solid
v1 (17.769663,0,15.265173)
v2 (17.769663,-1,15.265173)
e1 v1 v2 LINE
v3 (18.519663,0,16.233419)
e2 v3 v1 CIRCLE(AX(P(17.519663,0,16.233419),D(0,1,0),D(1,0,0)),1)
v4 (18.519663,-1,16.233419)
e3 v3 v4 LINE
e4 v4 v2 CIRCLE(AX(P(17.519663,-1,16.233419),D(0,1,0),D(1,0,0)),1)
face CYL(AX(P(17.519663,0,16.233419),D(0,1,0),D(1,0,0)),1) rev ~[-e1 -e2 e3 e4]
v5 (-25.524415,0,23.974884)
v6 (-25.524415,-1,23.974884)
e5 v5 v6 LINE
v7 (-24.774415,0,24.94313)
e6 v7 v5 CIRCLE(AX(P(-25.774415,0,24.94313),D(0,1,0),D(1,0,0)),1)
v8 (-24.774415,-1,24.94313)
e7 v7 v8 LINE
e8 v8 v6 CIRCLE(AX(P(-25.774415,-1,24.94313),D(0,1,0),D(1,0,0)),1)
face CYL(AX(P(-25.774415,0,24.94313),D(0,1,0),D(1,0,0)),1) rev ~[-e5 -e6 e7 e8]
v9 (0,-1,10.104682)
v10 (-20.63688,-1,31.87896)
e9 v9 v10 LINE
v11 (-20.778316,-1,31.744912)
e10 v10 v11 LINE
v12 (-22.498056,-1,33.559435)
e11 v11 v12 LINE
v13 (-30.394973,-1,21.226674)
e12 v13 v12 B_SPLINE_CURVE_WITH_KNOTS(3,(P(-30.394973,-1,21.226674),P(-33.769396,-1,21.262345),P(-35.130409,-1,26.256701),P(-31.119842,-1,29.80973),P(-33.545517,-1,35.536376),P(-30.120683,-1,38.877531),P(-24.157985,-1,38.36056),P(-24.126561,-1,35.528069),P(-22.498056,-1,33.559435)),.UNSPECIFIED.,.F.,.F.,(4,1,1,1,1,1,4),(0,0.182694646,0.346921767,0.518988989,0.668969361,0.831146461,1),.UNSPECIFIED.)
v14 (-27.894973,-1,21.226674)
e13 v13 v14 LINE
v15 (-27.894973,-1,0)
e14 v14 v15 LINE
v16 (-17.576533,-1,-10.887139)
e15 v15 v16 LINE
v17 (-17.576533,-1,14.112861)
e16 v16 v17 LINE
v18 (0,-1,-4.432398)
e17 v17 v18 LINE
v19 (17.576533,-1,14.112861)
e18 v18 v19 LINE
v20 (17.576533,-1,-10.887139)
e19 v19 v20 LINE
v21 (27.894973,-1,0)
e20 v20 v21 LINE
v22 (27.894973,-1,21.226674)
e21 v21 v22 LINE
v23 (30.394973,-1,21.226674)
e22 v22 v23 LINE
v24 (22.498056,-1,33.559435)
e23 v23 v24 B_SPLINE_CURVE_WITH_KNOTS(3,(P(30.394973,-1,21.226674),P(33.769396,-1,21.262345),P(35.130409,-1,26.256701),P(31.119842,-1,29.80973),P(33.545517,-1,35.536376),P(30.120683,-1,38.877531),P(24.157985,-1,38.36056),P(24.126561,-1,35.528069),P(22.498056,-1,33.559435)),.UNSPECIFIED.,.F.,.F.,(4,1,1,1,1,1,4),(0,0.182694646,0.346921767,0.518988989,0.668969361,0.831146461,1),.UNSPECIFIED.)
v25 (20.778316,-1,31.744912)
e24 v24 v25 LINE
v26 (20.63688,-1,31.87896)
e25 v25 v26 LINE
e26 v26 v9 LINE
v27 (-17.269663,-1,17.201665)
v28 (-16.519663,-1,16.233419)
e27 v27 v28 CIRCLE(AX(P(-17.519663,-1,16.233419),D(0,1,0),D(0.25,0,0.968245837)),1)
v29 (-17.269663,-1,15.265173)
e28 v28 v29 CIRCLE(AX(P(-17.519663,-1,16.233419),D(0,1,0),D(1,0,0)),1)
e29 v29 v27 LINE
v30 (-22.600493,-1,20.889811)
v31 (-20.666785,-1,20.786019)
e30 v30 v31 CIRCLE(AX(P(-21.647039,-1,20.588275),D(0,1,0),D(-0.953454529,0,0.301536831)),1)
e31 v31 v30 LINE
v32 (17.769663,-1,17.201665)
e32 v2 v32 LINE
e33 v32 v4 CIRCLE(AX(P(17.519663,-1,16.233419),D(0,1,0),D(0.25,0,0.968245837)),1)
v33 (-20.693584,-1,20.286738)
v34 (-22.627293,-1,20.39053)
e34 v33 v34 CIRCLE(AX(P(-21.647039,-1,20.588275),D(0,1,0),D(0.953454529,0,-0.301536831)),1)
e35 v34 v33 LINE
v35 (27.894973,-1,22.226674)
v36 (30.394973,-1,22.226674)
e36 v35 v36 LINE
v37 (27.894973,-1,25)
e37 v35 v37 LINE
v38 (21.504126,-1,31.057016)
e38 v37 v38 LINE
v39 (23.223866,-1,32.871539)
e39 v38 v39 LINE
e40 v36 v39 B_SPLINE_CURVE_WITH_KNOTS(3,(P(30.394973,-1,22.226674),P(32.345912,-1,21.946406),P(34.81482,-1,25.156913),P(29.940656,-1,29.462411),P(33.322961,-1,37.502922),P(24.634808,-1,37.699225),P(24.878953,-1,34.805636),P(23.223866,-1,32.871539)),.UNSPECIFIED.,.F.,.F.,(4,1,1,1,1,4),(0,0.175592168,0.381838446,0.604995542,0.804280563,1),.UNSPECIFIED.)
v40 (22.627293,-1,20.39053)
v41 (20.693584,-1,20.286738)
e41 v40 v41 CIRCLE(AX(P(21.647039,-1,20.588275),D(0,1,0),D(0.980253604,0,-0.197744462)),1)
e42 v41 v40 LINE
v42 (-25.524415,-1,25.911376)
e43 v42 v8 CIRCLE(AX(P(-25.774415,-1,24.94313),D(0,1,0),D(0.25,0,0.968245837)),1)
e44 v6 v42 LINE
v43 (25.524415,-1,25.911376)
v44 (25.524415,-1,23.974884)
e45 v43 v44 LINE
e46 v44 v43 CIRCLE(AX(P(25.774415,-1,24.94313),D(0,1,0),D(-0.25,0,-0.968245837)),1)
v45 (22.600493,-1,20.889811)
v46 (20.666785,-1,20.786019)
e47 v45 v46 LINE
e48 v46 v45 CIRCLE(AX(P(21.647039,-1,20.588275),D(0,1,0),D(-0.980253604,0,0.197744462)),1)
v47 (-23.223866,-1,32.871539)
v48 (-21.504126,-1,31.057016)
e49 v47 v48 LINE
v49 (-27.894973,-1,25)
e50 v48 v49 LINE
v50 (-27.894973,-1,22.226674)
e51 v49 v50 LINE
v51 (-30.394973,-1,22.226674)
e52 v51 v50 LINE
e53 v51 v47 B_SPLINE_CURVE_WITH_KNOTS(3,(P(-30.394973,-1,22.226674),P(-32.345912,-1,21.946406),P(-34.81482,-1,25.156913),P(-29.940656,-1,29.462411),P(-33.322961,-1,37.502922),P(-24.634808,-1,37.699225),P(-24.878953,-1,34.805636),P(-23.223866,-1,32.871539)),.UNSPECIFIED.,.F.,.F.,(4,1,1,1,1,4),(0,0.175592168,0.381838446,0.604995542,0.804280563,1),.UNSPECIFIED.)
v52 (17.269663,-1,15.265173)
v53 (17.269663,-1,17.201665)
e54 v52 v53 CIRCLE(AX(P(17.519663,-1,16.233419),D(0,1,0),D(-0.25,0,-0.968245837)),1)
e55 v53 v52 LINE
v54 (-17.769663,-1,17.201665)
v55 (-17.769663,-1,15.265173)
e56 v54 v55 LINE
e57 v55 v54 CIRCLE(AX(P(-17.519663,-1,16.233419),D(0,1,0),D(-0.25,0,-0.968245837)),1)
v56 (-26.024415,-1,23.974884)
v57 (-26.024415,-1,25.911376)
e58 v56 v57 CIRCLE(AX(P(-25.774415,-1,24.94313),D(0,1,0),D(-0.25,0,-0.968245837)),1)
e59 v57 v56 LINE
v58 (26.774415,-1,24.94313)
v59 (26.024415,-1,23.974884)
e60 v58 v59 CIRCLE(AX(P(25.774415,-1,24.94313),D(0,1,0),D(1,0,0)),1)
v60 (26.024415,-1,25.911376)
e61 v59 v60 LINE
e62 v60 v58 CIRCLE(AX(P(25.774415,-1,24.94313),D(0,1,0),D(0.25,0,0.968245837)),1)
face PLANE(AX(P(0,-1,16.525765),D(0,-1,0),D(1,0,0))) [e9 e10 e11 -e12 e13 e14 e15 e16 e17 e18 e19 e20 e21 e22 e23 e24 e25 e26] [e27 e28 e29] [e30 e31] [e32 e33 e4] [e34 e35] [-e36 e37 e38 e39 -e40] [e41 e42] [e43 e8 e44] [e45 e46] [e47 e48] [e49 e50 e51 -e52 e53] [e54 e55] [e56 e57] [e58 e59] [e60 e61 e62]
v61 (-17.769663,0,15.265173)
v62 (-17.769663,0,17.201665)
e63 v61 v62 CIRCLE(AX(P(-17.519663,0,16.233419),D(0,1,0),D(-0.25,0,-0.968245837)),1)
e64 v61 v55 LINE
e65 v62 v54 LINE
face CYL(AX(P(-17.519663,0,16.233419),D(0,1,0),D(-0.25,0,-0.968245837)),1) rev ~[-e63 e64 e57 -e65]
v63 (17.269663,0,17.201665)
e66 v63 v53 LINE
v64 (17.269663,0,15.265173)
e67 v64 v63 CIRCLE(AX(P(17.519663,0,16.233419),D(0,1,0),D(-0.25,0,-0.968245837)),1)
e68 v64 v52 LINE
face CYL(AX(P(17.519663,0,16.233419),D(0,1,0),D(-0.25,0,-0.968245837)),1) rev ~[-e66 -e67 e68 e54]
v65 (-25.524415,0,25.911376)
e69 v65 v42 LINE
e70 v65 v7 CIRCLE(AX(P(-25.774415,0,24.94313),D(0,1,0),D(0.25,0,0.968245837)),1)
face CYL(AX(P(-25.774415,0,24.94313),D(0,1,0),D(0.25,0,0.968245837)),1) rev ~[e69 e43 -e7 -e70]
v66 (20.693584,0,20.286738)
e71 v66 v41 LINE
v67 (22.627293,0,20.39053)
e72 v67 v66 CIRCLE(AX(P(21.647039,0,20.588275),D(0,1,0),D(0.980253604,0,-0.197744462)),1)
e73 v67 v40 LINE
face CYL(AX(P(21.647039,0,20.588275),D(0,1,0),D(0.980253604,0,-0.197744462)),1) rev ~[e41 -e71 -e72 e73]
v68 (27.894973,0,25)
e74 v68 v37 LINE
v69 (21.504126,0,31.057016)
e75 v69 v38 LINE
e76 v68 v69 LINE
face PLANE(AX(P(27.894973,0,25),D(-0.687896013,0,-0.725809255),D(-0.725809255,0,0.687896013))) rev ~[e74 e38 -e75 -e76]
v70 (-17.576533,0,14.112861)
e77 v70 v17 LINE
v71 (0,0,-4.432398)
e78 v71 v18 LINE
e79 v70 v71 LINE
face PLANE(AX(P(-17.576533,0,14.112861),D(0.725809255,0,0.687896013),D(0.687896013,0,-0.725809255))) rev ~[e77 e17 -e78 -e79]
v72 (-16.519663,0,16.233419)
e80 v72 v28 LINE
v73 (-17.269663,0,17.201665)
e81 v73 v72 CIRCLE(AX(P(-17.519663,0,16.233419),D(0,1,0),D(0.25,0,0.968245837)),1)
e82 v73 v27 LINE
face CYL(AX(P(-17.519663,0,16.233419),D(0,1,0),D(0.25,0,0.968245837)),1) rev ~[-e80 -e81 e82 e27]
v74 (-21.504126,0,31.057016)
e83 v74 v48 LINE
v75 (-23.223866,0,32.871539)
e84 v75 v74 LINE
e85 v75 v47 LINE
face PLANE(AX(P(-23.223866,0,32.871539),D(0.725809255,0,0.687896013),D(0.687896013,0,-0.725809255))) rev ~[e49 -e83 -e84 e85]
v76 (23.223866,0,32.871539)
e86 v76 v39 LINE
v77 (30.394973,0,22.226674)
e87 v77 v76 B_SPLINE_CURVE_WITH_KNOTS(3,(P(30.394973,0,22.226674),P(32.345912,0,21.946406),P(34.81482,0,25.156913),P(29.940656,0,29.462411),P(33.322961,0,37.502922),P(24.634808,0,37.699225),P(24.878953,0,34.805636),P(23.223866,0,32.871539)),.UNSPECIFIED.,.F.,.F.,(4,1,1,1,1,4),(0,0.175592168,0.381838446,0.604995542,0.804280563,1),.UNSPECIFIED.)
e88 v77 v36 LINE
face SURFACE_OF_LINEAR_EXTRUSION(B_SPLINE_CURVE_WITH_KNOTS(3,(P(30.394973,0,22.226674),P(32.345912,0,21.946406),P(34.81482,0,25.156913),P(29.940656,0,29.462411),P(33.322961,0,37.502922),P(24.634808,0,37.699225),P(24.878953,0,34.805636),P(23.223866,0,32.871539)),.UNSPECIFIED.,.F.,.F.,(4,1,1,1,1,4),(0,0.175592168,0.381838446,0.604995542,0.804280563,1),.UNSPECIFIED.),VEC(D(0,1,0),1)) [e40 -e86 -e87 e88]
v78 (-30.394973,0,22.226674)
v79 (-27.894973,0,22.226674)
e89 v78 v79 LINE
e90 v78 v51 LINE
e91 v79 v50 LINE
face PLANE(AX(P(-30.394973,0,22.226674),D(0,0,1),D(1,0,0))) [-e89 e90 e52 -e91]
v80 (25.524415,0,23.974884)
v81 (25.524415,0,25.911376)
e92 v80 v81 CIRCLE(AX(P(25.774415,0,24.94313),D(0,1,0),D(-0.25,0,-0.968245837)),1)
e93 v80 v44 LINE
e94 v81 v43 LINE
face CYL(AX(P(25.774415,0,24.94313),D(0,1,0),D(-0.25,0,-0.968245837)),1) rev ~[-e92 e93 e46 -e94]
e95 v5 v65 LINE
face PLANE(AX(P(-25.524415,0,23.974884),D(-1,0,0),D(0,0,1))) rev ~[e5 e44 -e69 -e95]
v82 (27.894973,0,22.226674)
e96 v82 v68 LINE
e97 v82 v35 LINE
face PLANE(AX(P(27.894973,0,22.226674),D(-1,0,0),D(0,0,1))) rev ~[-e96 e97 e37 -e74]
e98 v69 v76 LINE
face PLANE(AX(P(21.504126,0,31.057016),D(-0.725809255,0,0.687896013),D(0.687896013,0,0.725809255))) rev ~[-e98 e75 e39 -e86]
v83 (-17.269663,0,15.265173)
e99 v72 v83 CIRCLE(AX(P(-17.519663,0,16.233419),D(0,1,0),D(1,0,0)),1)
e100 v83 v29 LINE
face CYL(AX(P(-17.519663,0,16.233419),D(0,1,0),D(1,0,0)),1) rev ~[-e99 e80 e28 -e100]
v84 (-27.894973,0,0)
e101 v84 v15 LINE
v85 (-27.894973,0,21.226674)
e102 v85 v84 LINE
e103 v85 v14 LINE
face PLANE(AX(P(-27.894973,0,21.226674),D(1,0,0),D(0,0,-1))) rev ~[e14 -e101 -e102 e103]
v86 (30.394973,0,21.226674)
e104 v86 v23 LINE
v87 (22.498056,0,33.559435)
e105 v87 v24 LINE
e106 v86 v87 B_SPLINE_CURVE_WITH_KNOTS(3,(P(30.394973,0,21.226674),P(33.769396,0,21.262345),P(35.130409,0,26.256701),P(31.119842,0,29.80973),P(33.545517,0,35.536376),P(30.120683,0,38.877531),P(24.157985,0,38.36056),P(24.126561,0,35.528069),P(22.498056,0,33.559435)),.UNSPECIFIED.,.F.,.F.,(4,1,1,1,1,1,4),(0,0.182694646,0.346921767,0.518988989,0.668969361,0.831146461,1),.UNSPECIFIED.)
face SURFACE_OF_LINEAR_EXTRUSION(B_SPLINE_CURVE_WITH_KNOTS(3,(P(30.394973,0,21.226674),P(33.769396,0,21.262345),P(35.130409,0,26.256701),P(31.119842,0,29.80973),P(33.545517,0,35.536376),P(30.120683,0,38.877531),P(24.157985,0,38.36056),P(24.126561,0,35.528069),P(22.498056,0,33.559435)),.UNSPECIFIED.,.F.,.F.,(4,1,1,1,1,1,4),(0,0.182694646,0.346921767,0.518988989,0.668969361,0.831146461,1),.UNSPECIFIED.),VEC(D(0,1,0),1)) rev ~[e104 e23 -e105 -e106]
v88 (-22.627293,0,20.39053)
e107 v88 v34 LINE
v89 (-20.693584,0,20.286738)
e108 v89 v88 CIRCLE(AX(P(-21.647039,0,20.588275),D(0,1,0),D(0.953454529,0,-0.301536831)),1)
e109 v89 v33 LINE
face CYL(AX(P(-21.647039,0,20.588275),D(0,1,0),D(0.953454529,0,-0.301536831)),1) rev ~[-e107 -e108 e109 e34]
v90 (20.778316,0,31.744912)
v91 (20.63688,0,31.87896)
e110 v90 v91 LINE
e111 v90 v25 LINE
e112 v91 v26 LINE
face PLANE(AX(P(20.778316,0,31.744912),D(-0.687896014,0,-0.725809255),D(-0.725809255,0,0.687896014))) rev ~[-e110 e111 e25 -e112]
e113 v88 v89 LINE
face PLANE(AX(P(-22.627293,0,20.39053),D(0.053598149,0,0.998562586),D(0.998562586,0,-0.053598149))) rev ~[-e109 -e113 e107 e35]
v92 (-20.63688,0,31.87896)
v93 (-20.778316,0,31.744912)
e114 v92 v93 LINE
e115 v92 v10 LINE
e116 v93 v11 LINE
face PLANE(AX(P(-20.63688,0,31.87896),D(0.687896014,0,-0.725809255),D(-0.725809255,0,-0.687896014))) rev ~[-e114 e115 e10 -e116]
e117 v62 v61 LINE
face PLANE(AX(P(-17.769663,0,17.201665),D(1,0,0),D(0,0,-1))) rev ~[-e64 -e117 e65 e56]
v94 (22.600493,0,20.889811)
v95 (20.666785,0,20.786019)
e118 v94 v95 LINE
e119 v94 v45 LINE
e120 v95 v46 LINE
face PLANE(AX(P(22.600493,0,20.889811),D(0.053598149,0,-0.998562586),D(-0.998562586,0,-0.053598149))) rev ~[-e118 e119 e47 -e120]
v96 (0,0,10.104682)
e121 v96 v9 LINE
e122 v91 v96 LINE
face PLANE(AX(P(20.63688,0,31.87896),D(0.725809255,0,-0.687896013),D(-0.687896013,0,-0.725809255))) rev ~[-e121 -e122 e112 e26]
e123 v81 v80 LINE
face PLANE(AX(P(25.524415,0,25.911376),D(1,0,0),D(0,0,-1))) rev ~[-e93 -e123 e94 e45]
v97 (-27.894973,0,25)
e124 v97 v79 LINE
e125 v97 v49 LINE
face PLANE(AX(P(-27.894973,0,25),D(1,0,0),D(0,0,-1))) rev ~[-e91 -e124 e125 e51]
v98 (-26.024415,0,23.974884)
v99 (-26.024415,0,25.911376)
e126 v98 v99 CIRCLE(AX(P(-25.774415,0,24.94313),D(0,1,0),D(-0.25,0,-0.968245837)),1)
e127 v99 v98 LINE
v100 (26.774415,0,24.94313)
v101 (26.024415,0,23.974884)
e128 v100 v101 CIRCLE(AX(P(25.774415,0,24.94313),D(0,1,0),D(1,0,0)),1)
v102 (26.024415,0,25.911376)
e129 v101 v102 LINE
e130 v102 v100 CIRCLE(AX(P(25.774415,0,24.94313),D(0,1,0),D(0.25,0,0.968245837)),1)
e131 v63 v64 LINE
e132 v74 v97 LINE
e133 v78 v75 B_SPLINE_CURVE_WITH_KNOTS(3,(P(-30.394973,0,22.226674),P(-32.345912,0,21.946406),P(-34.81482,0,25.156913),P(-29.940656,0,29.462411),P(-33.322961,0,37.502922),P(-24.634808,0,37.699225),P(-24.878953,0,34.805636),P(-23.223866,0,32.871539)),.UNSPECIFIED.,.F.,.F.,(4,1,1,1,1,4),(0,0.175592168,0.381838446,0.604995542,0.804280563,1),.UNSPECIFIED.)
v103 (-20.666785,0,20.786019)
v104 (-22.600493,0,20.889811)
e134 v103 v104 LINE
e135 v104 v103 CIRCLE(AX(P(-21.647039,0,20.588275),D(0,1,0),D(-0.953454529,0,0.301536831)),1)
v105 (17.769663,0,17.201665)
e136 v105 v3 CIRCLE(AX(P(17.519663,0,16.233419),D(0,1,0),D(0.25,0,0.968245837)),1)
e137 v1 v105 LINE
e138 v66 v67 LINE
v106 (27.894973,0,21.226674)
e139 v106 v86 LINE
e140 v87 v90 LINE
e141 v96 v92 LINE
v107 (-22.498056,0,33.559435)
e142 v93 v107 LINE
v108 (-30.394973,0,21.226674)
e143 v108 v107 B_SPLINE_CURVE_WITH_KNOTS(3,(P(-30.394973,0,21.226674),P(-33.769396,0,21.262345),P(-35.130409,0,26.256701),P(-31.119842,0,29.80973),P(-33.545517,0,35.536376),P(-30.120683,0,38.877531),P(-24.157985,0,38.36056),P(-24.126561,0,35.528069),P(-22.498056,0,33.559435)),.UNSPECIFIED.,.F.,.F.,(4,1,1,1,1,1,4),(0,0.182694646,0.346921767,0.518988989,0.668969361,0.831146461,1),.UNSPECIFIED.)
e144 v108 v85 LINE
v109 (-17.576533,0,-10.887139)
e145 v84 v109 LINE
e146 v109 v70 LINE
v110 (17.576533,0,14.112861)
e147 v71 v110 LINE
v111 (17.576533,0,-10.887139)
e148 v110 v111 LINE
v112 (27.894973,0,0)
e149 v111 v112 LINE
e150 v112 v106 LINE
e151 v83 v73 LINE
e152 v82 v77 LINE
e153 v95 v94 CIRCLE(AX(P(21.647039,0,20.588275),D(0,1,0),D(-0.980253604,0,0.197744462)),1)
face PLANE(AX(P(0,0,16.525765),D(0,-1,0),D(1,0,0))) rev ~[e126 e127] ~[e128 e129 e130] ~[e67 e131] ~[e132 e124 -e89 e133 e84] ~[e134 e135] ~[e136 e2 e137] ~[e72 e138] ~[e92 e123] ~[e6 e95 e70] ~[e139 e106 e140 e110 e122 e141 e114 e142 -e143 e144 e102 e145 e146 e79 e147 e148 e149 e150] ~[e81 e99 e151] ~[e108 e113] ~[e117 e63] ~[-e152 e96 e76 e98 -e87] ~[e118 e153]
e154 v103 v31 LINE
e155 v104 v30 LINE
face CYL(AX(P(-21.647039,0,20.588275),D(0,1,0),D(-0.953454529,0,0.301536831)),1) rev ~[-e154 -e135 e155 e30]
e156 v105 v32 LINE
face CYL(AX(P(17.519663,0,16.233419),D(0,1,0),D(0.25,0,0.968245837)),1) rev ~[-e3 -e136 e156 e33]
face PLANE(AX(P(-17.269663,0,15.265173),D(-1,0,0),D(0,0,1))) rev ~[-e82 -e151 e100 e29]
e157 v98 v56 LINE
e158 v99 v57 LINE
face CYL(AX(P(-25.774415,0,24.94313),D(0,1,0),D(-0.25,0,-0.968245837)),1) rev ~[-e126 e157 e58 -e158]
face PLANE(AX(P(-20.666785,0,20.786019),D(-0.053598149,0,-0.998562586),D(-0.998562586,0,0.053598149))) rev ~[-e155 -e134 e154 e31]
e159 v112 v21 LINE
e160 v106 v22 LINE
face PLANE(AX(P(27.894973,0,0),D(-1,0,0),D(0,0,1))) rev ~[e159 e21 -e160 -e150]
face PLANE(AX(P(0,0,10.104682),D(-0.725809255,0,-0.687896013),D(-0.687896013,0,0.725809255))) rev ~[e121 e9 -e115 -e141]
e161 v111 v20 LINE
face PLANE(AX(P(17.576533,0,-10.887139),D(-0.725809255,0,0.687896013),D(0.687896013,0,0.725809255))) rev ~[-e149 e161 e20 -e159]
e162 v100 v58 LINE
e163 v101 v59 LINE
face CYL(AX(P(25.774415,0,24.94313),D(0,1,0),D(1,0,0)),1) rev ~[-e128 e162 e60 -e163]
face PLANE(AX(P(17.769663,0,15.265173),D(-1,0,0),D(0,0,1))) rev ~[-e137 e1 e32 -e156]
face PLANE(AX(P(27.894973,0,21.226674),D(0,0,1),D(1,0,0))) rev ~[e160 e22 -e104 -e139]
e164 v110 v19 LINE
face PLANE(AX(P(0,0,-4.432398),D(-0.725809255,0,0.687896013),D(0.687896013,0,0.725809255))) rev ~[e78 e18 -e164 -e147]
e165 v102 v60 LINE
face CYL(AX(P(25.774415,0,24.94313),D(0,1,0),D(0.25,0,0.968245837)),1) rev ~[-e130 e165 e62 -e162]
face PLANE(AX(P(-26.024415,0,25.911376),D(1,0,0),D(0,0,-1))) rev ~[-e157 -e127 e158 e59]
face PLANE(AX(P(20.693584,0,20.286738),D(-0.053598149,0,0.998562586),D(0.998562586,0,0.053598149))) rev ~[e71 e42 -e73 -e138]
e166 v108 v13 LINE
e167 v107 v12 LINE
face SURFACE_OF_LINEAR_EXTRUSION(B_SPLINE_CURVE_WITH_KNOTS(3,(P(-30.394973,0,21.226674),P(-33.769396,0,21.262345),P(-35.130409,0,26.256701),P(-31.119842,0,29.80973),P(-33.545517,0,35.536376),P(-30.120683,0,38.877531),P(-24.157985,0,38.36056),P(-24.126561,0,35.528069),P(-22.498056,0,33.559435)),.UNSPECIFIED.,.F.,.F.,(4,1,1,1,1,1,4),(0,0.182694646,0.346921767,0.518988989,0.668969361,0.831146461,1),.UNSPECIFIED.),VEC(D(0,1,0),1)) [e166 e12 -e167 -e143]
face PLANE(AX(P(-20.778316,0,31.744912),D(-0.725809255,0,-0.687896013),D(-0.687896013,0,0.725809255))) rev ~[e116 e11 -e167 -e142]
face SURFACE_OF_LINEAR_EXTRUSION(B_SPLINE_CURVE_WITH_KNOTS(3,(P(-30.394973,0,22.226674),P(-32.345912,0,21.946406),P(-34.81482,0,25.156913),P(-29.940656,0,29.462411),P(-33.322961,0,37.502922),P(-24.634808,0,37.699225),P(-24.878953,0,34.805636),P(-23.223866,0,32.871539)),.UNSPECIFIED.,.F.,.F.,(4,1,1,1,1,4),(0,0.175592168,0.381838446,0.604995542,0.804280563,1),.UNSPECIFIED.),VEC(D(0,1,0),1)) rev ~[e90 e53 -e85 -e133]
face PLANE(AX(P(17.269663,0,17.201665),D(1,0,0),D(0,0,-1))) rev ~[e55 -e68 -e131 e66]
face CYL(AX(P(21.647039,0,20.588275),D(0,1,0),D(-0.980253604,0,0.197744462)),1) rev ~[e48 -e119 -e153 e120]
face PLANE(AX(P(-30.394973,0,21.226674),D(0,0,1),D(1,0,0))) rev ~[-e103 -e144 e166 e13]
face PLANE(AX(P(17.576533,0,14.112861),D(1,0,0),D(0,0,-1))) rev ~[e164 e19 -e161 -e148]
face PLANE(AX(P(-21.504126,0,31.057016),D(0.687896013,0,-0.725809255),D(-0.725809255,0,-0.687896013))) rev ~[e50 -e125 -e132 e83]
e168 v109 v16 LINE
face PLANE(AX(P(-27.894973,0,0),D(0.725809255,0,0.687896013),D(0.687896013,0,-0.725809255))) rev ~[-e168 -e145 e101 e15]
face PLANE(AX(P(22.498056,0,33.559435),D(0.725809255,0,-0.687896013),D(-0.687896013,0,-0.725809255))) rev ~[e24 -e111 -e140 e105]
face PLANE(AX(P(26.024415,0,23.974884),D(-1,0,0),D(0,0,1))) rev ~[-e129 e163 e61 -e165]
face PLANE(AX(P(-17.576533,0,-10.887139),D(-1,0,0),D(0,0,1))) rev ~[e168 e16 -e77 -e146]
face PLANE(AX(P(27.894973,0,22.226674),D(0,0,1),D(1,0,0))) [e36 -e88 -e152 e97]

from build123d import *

# Parameters (mm, degrees)
F0_W     = 2.5
F0_H     = 1
F1_DEPTH = 1


with BuildPart() as f1:
    # F0 (on Front) → F1 (new body)
    with BuildSketch(Plane.XZ):
        Polygon((-21.5041256621, 31.0570161438), (-27.8949729542, 25), (-17.5765327521, 14.1128611749), (0, -4.4323984176), (17.5765327521, 14.1128611749), (27.8949729542, 25), (21.5041256621, 31.0570161438), (20.7783164071, 31.7449121572), (20.6368804041, 31.8789601347), (0, 10.1046824845), (-20.6368804041, 31.8789601347), (-20.7783164071, 31.7449121572), align=None)
        with BuildLine():
            ThreePointArc((-20.6667853668, 20.7860190692), (-20.6519878152, 20.6876385753), (-20.6470389706, 20.5882746076))
            ThreePointArc((-20.6470389706, 20.5882746076), (-20.6587438403, 20.4357205667), (-20.6935844414, 20.2867377762))
            ThreePointArc((-20.6935844414, 20.2867377762), (-21.7006371199, 19.5897120215), (-22.6272925745, 20.390530146))
            ThreePointArc((-22.6272925745, 20.390530146), (-22.6456015568, 20.6418727569), (-22.6004934999, 20.8898114391))
            ThreePointArc((-22.6004934999, 20.8898114391), (-21.5934408213, 21.5868371938), (-20.6667853668, 20.7860190692))
        make_face(mode=Mode.SUBTRACT)
        with BuildLine():
            ThreePointArc((-25.5244150514, 25.9113759742), (-24.9838456364, 25.5555025734), (-24.7744150515, 24.9431301377))
            ThreePointArc((-24.7744150515, 24.9431301377), (-24.9838456364, 24.330757702), (-25.5244150514, 23.9748843011))
            ThreePointArc((-25.5244150514, 23.9748843011), (-25.7744150514, 23.9431301377), (-26.0244150514, 23.9748843011))
            ThreePointArc((-26.0244150514, 23.9748843011), (-26.7744150515, 24.9431301377), (-26.0244150514, 25.9113759742))
            ThreePointArc((-26.0244150514, 25.9113759742), (-25.7744150514, 25.9431301377), (-25.5244150514, 25.9113759742))
        make_face(mode=Mode.SUBTRACT)
        with BuildLine():
            ThreePointArc((-17.2696628899, 17.2016649142), (-16.7290934748, 16.8457915133), (-16.5196628898, 16.2334190776))
            ThreePointArc((-16.5196628898, 16.2334190776), (-16.7290934748, 15.6210466419), (-17.2696628898, 15.265173241))
            ThreePointArc((-17.2696628898, 15.265173241), (-17.5196628899, 15.2334190776), (-17.7696628899, 15.2651732411))
            ThreePointArc((-17.7696628899, 15.2651732411), (-18.5196628898, 16.2334190776), (-17.7696628898, 17.2016649141))
            ThreePointArc((-17.7696628898, 17.2016649141), (-17.5196628898, 17.2334190776), (-17.2696628899, 17.2016649142))
        make_face(mode=Mode.SUBTRACT)
        with BuildLine():
            ThreePointArc((17.7696628898, 17.2016649141), (18.3102323049, 16.8457915133), (18.5196628898, 16.2334190776))
            ThreePointArc((18.5196628898, 16.2334190776), (18.3102323049, 15.6210466419), (17.7696628899, 15.2651732411))
            ThreePointArc((17.7696628899, 15.2651732411), (17.5196628899, 15.2334190776), (17.2696628898, 15.265173241))
            ThreePointArc((17.2696628898, 15.265173241), (16.5196628898, 16.2334190776), (17.2696628899, 17.2016649142))
            ThreePointArc((17.2696628899, 17.2016649142), (17.5196628898, 17.2334190776), (17.7696628898, 17.2016649141))
        make_face(mode=Mode.SUBTRACT)
        with BuildLine():
            ThreePointArc((22.6004934999, 20.8898114391), (22.635334101, 20.7408286485), (22.6470389706, 20.5882746076))
            ThreePointArc((22.6470389706, 20.5882746076), (22.6420901261, 20.48891064), (22.6272925745, 20.390530146))
            ThreePointArc((22.6272925745, 20.390530146), (21.7006371199, 19.5897120215), (20.6935844414, 20.2867377762))
            ThreePointArc((20.6935844414, 20.2867377762), (20.6484763845, 20.5346764583), (20.6667853668, 20.7860190692))
            ThreePointArc((20.6667853668, 20.7860190692), (21.5934408213, 21.5868371938), (22.6004934999, 20.8898114391))
        make_face(mode=Mode.SUBTRACT)
        with BuildLine():
            ThreePointArc((25.5244150514, 25.9113759742), (25.7744150514, 25.9431301377), (26.0244150514, 25.9113759742))
            ThreePointArc((26.0244150514, 25.9113759742), (26.5649844665, 25.5555025734), (26.7744150515, 24.9431301377))
            ThreePointArc((26.7744150515, 24.9431301377), (26.5649844665, 24.330757702), (26.0244150514, 23.9748843011))
            ThreePointArc((26.0244150514, 23.9748843011), (25.7744150514, 23.9431301377), (25.5244150514, 23.9748843011))
            ThreePointArc((25.5244150514, 23.9748843011), (24.7744150515, 24.9431301377), (25.5244150514, 25.9113759742))
        make_face(mode=Mode.SUBTRACT)
        with BuildLine():
            ThreePointArc((-20.6935844414, 20.2867377762), (-20.6587438403, 20.4357205667), (-20.6470389706, 20.5882746076))
            ThreePointArc((-20.6470389706, 20.5882746076), (-20.6519878152, 20.6876385753), (-20.6667853668, 20.7860190692))
            Line((-20.6667853668, 20.7860190692), (-22.6004934998, 20.8898114391))
            ThreePointArc((-22.6004934999, 20.8898114391), (-22.6456015568, 20.6418727569), (-22.6272925745, 20.390530146))
            Line((-22.6272925745, 20.390530146), (-20.6935844414, 20.2867377762))
        make_face()
        with BuildLine():
            Line((-17.2696628899, 15.2651732411), (-17.2696628899, 17.2016649142))
            ThreePointArc((-17.2696628899, 17.2016649142), (-17.5196628898, 17.2334190776), (-17.7696628898, 17.2016649141))
            Line((-17.7696628899, 17.2016649142), (-17.7696628899, 15.2651732411))
            ThreePointArc((-17.7696628899, 15.2651732411), (-17.5196628899, 15.2334190776), (-17.2696628898, 15.265173241))
        make_face()
        with BuildLine():
            Line((-25.5244150514, 23.9748843011), (-25.5244150514, 25.9113759742))
            ThreePointArc((-25.5244150514, 25.9113759742), (-25.7744150514, 25.9431301377), (-26.0244150514, 25.9113759742))
            Line((-26.0244150514, 25.9113759742), (-26.0244150514, 23.9748843011))
            ThreePointArc((-26.0244150514, 23.9748843011), (-25.7744150514, 23.9431301377), (-25.5244150514, 23.9748843011))
        make_face()
        with BuildLine():
            Line((17.7696628899, 15.2651732411), (17.7696628899, 17.2016649142))
            ThreePointArc((17.7696628898, 17.2016649141), (17.5196628898, 17.2334190776), (17.2696628899, 17.2016649142))
            Line((17.2696628899, 17.2016649142), (17.2696628899, 15.2651732411))
            ThreePointArc((17.2696628898, 15.265173241), (17.5196628899, 15.2334190776), (17.7696628899, 15.2651732411))
        make_face()
        with BuildLine():
            ThreePointArc((22.6272925745, 20.390530146), (22.6420901261, 20.48891064), (22.6470389706, 20.5882746076))
            ThreePointArc((22.6470389706, 20.5882746076), (22.635334101, 20.7408286485), (22.6004934999, 20.8898114391))
            Line((22.6004934998, 20.8898114391), (20.6667853668, 20.7860190692))
            ThreePointArc((20.6667853668, 20.7860190692), (20.6484763845, 20.5346764583), (20.6935844414, 20.2867377762))
            Line((20.6935844414, 20.2867377762), (22.6272925745, 20.390530146))
        make_face()
        with BuildLine():
            Line((26.0244150514, 23.9748843011), (26.0244150514, 25.9113759742))
            ThreePointArc((26.0244150514, 25.9113759742), (25.7744150514, 25.9431301377), (25.5244150514, 25.9113759742))
            Line((25.5244150514, 25.9113759742), (25.5244150514, 23.9748843011))
            ThreePointArc((25.5244150514, 23.9748843011), (25.7744150514, 23.9431301377), (26.0244150514, 23.9748843011))
        make_face()
        with BuildLine():
            add(Edge.make_bspline(
                [(-30.3949729542, 22.2266743183), (-32.3459120476, 21.9464057728), (-34.814820051, 25.1569130987), (-29.9406562875, 29.4624113714), (-33.3229612403, 37.5029221755), (-24.6348075097, 37.699224987), (-24.8789525053, 34.8056361785), (-23.2238656958, 32.8715392813)],
                knots=[0, 0, 0, 0, 0.175592168, 0.3818384458, 0.6049955425, 0.8042805633, 1, 1, 1, 1], degree=3))
            Line((-23.2238656958, 32.8715392813), (-22.4980564408, 33.5594352948))
            add(Edge.make_bspline(
                [(-30.3949729542, 21.2266743183), (-33.769396033, 21.2623445922), (-35.1304093787, 26.256700748), (-31.1198421968, 29.8097298229), (-33.5455166511, 35.5363763005), (-30.1206826208, 38.8775311144), (-24.1579853587, 38.3605596931), (-24.126560546, 35.5280691092), (-22.4980564408, 33.5594352948)],
                knots=[0, 0, 0, 0, 0.1826946464, 0.3469217666, 0.5189889886, 0.6689693608, 0.8311464613, 1, 1, 1, 1], degree=3))
            Line((-30.3949729542, 21.2266743183), (-30.3949729542, 22.2266743183))
        make_face()
        Polygon((-23.2238656958, 32.8715392813), (-21.5041256621, 31.0570161438), (-20.7783164071, 31.7449121572), (-22.4980564408, 33.5594352948), align=None)
        with Locations((-29.1449729542, 21.7266743183)):
            Rectangle(F0_W, F0_H)
        Polygon((-17.5765327521, 14.1128611749), (-27.8949729541, 25), (-27.8949729542, 22.2266743183), (-27.8949729542, 21.2266743183), (-27.8949729542, 0), (-17.5765327521, -10.8871388251), align=None)
        Polygon((27.8949729542, 25), (17.5765327521, 14.1128611749), (17.5765327521, -10.8871388251), (27.8949729542, 0), (27.8949729542, 21.2266743183), (27.8949729542, 22.2266743183), align=None)
        with BuildLine():
            Line((22.4980564408, 33.5594352948), (23.2238656958, 32.8715392813))
            add(Edge.make_bspline(
                [(30.3949729542, 22.2266743183), (32.3459120476, 21.9464057728), (34.814820051, 25.1569130987), (29.9406562875, 29.4624113714), (33.3229612403, 37.5029221755), (24.6348075097, 37.699224987), (24.8789525053, 34.8056361785), (23.2238656958, 32.8715392813)],
                knots=[0, 0, 0, 0, 0.175592168, 0.3818384458, 0.6049955425, 0.8042805633, 1, 1, 1, 1], degree=3))
            Line((30.3949729542, 22.2266743183), (30.3949729542, 21.2266743183))
            add(Edge.make_bspline(
                [(30.3949729542, 21.2266743183), (33.769396033, 21.2623445922), (35.1304093787, 26.256700748), (31.1198421968, 29.8097298229), (33.5455166511, 35.5363763005), (30.1206826208, 38.8775311144), (24.1579853587, 38.3605596931), (24.126560546, 35.5280691092), (22.4980564408, 33.5594352948)],
                knots=[0, 0, 0, 0, 0.1826946464, 0.3469217666, 0.5189889886, 0.6689693608, 0.8311464613, 1, 1, 1, 1], degree=3))
        make_face()
        with Locations((29.1449729542, 21.7266743183)):
            Rectangle(F0_W, F0_H)
        Polygon((20.7783164071, 31.7449121572), (21.5041256621, 31.0570161438), (23.2238656958, 32.8715392813), (22.4980564408, 33.5594352948), align=None)
    extrude(amount=F1_DEPTH)


solid = f1.part
